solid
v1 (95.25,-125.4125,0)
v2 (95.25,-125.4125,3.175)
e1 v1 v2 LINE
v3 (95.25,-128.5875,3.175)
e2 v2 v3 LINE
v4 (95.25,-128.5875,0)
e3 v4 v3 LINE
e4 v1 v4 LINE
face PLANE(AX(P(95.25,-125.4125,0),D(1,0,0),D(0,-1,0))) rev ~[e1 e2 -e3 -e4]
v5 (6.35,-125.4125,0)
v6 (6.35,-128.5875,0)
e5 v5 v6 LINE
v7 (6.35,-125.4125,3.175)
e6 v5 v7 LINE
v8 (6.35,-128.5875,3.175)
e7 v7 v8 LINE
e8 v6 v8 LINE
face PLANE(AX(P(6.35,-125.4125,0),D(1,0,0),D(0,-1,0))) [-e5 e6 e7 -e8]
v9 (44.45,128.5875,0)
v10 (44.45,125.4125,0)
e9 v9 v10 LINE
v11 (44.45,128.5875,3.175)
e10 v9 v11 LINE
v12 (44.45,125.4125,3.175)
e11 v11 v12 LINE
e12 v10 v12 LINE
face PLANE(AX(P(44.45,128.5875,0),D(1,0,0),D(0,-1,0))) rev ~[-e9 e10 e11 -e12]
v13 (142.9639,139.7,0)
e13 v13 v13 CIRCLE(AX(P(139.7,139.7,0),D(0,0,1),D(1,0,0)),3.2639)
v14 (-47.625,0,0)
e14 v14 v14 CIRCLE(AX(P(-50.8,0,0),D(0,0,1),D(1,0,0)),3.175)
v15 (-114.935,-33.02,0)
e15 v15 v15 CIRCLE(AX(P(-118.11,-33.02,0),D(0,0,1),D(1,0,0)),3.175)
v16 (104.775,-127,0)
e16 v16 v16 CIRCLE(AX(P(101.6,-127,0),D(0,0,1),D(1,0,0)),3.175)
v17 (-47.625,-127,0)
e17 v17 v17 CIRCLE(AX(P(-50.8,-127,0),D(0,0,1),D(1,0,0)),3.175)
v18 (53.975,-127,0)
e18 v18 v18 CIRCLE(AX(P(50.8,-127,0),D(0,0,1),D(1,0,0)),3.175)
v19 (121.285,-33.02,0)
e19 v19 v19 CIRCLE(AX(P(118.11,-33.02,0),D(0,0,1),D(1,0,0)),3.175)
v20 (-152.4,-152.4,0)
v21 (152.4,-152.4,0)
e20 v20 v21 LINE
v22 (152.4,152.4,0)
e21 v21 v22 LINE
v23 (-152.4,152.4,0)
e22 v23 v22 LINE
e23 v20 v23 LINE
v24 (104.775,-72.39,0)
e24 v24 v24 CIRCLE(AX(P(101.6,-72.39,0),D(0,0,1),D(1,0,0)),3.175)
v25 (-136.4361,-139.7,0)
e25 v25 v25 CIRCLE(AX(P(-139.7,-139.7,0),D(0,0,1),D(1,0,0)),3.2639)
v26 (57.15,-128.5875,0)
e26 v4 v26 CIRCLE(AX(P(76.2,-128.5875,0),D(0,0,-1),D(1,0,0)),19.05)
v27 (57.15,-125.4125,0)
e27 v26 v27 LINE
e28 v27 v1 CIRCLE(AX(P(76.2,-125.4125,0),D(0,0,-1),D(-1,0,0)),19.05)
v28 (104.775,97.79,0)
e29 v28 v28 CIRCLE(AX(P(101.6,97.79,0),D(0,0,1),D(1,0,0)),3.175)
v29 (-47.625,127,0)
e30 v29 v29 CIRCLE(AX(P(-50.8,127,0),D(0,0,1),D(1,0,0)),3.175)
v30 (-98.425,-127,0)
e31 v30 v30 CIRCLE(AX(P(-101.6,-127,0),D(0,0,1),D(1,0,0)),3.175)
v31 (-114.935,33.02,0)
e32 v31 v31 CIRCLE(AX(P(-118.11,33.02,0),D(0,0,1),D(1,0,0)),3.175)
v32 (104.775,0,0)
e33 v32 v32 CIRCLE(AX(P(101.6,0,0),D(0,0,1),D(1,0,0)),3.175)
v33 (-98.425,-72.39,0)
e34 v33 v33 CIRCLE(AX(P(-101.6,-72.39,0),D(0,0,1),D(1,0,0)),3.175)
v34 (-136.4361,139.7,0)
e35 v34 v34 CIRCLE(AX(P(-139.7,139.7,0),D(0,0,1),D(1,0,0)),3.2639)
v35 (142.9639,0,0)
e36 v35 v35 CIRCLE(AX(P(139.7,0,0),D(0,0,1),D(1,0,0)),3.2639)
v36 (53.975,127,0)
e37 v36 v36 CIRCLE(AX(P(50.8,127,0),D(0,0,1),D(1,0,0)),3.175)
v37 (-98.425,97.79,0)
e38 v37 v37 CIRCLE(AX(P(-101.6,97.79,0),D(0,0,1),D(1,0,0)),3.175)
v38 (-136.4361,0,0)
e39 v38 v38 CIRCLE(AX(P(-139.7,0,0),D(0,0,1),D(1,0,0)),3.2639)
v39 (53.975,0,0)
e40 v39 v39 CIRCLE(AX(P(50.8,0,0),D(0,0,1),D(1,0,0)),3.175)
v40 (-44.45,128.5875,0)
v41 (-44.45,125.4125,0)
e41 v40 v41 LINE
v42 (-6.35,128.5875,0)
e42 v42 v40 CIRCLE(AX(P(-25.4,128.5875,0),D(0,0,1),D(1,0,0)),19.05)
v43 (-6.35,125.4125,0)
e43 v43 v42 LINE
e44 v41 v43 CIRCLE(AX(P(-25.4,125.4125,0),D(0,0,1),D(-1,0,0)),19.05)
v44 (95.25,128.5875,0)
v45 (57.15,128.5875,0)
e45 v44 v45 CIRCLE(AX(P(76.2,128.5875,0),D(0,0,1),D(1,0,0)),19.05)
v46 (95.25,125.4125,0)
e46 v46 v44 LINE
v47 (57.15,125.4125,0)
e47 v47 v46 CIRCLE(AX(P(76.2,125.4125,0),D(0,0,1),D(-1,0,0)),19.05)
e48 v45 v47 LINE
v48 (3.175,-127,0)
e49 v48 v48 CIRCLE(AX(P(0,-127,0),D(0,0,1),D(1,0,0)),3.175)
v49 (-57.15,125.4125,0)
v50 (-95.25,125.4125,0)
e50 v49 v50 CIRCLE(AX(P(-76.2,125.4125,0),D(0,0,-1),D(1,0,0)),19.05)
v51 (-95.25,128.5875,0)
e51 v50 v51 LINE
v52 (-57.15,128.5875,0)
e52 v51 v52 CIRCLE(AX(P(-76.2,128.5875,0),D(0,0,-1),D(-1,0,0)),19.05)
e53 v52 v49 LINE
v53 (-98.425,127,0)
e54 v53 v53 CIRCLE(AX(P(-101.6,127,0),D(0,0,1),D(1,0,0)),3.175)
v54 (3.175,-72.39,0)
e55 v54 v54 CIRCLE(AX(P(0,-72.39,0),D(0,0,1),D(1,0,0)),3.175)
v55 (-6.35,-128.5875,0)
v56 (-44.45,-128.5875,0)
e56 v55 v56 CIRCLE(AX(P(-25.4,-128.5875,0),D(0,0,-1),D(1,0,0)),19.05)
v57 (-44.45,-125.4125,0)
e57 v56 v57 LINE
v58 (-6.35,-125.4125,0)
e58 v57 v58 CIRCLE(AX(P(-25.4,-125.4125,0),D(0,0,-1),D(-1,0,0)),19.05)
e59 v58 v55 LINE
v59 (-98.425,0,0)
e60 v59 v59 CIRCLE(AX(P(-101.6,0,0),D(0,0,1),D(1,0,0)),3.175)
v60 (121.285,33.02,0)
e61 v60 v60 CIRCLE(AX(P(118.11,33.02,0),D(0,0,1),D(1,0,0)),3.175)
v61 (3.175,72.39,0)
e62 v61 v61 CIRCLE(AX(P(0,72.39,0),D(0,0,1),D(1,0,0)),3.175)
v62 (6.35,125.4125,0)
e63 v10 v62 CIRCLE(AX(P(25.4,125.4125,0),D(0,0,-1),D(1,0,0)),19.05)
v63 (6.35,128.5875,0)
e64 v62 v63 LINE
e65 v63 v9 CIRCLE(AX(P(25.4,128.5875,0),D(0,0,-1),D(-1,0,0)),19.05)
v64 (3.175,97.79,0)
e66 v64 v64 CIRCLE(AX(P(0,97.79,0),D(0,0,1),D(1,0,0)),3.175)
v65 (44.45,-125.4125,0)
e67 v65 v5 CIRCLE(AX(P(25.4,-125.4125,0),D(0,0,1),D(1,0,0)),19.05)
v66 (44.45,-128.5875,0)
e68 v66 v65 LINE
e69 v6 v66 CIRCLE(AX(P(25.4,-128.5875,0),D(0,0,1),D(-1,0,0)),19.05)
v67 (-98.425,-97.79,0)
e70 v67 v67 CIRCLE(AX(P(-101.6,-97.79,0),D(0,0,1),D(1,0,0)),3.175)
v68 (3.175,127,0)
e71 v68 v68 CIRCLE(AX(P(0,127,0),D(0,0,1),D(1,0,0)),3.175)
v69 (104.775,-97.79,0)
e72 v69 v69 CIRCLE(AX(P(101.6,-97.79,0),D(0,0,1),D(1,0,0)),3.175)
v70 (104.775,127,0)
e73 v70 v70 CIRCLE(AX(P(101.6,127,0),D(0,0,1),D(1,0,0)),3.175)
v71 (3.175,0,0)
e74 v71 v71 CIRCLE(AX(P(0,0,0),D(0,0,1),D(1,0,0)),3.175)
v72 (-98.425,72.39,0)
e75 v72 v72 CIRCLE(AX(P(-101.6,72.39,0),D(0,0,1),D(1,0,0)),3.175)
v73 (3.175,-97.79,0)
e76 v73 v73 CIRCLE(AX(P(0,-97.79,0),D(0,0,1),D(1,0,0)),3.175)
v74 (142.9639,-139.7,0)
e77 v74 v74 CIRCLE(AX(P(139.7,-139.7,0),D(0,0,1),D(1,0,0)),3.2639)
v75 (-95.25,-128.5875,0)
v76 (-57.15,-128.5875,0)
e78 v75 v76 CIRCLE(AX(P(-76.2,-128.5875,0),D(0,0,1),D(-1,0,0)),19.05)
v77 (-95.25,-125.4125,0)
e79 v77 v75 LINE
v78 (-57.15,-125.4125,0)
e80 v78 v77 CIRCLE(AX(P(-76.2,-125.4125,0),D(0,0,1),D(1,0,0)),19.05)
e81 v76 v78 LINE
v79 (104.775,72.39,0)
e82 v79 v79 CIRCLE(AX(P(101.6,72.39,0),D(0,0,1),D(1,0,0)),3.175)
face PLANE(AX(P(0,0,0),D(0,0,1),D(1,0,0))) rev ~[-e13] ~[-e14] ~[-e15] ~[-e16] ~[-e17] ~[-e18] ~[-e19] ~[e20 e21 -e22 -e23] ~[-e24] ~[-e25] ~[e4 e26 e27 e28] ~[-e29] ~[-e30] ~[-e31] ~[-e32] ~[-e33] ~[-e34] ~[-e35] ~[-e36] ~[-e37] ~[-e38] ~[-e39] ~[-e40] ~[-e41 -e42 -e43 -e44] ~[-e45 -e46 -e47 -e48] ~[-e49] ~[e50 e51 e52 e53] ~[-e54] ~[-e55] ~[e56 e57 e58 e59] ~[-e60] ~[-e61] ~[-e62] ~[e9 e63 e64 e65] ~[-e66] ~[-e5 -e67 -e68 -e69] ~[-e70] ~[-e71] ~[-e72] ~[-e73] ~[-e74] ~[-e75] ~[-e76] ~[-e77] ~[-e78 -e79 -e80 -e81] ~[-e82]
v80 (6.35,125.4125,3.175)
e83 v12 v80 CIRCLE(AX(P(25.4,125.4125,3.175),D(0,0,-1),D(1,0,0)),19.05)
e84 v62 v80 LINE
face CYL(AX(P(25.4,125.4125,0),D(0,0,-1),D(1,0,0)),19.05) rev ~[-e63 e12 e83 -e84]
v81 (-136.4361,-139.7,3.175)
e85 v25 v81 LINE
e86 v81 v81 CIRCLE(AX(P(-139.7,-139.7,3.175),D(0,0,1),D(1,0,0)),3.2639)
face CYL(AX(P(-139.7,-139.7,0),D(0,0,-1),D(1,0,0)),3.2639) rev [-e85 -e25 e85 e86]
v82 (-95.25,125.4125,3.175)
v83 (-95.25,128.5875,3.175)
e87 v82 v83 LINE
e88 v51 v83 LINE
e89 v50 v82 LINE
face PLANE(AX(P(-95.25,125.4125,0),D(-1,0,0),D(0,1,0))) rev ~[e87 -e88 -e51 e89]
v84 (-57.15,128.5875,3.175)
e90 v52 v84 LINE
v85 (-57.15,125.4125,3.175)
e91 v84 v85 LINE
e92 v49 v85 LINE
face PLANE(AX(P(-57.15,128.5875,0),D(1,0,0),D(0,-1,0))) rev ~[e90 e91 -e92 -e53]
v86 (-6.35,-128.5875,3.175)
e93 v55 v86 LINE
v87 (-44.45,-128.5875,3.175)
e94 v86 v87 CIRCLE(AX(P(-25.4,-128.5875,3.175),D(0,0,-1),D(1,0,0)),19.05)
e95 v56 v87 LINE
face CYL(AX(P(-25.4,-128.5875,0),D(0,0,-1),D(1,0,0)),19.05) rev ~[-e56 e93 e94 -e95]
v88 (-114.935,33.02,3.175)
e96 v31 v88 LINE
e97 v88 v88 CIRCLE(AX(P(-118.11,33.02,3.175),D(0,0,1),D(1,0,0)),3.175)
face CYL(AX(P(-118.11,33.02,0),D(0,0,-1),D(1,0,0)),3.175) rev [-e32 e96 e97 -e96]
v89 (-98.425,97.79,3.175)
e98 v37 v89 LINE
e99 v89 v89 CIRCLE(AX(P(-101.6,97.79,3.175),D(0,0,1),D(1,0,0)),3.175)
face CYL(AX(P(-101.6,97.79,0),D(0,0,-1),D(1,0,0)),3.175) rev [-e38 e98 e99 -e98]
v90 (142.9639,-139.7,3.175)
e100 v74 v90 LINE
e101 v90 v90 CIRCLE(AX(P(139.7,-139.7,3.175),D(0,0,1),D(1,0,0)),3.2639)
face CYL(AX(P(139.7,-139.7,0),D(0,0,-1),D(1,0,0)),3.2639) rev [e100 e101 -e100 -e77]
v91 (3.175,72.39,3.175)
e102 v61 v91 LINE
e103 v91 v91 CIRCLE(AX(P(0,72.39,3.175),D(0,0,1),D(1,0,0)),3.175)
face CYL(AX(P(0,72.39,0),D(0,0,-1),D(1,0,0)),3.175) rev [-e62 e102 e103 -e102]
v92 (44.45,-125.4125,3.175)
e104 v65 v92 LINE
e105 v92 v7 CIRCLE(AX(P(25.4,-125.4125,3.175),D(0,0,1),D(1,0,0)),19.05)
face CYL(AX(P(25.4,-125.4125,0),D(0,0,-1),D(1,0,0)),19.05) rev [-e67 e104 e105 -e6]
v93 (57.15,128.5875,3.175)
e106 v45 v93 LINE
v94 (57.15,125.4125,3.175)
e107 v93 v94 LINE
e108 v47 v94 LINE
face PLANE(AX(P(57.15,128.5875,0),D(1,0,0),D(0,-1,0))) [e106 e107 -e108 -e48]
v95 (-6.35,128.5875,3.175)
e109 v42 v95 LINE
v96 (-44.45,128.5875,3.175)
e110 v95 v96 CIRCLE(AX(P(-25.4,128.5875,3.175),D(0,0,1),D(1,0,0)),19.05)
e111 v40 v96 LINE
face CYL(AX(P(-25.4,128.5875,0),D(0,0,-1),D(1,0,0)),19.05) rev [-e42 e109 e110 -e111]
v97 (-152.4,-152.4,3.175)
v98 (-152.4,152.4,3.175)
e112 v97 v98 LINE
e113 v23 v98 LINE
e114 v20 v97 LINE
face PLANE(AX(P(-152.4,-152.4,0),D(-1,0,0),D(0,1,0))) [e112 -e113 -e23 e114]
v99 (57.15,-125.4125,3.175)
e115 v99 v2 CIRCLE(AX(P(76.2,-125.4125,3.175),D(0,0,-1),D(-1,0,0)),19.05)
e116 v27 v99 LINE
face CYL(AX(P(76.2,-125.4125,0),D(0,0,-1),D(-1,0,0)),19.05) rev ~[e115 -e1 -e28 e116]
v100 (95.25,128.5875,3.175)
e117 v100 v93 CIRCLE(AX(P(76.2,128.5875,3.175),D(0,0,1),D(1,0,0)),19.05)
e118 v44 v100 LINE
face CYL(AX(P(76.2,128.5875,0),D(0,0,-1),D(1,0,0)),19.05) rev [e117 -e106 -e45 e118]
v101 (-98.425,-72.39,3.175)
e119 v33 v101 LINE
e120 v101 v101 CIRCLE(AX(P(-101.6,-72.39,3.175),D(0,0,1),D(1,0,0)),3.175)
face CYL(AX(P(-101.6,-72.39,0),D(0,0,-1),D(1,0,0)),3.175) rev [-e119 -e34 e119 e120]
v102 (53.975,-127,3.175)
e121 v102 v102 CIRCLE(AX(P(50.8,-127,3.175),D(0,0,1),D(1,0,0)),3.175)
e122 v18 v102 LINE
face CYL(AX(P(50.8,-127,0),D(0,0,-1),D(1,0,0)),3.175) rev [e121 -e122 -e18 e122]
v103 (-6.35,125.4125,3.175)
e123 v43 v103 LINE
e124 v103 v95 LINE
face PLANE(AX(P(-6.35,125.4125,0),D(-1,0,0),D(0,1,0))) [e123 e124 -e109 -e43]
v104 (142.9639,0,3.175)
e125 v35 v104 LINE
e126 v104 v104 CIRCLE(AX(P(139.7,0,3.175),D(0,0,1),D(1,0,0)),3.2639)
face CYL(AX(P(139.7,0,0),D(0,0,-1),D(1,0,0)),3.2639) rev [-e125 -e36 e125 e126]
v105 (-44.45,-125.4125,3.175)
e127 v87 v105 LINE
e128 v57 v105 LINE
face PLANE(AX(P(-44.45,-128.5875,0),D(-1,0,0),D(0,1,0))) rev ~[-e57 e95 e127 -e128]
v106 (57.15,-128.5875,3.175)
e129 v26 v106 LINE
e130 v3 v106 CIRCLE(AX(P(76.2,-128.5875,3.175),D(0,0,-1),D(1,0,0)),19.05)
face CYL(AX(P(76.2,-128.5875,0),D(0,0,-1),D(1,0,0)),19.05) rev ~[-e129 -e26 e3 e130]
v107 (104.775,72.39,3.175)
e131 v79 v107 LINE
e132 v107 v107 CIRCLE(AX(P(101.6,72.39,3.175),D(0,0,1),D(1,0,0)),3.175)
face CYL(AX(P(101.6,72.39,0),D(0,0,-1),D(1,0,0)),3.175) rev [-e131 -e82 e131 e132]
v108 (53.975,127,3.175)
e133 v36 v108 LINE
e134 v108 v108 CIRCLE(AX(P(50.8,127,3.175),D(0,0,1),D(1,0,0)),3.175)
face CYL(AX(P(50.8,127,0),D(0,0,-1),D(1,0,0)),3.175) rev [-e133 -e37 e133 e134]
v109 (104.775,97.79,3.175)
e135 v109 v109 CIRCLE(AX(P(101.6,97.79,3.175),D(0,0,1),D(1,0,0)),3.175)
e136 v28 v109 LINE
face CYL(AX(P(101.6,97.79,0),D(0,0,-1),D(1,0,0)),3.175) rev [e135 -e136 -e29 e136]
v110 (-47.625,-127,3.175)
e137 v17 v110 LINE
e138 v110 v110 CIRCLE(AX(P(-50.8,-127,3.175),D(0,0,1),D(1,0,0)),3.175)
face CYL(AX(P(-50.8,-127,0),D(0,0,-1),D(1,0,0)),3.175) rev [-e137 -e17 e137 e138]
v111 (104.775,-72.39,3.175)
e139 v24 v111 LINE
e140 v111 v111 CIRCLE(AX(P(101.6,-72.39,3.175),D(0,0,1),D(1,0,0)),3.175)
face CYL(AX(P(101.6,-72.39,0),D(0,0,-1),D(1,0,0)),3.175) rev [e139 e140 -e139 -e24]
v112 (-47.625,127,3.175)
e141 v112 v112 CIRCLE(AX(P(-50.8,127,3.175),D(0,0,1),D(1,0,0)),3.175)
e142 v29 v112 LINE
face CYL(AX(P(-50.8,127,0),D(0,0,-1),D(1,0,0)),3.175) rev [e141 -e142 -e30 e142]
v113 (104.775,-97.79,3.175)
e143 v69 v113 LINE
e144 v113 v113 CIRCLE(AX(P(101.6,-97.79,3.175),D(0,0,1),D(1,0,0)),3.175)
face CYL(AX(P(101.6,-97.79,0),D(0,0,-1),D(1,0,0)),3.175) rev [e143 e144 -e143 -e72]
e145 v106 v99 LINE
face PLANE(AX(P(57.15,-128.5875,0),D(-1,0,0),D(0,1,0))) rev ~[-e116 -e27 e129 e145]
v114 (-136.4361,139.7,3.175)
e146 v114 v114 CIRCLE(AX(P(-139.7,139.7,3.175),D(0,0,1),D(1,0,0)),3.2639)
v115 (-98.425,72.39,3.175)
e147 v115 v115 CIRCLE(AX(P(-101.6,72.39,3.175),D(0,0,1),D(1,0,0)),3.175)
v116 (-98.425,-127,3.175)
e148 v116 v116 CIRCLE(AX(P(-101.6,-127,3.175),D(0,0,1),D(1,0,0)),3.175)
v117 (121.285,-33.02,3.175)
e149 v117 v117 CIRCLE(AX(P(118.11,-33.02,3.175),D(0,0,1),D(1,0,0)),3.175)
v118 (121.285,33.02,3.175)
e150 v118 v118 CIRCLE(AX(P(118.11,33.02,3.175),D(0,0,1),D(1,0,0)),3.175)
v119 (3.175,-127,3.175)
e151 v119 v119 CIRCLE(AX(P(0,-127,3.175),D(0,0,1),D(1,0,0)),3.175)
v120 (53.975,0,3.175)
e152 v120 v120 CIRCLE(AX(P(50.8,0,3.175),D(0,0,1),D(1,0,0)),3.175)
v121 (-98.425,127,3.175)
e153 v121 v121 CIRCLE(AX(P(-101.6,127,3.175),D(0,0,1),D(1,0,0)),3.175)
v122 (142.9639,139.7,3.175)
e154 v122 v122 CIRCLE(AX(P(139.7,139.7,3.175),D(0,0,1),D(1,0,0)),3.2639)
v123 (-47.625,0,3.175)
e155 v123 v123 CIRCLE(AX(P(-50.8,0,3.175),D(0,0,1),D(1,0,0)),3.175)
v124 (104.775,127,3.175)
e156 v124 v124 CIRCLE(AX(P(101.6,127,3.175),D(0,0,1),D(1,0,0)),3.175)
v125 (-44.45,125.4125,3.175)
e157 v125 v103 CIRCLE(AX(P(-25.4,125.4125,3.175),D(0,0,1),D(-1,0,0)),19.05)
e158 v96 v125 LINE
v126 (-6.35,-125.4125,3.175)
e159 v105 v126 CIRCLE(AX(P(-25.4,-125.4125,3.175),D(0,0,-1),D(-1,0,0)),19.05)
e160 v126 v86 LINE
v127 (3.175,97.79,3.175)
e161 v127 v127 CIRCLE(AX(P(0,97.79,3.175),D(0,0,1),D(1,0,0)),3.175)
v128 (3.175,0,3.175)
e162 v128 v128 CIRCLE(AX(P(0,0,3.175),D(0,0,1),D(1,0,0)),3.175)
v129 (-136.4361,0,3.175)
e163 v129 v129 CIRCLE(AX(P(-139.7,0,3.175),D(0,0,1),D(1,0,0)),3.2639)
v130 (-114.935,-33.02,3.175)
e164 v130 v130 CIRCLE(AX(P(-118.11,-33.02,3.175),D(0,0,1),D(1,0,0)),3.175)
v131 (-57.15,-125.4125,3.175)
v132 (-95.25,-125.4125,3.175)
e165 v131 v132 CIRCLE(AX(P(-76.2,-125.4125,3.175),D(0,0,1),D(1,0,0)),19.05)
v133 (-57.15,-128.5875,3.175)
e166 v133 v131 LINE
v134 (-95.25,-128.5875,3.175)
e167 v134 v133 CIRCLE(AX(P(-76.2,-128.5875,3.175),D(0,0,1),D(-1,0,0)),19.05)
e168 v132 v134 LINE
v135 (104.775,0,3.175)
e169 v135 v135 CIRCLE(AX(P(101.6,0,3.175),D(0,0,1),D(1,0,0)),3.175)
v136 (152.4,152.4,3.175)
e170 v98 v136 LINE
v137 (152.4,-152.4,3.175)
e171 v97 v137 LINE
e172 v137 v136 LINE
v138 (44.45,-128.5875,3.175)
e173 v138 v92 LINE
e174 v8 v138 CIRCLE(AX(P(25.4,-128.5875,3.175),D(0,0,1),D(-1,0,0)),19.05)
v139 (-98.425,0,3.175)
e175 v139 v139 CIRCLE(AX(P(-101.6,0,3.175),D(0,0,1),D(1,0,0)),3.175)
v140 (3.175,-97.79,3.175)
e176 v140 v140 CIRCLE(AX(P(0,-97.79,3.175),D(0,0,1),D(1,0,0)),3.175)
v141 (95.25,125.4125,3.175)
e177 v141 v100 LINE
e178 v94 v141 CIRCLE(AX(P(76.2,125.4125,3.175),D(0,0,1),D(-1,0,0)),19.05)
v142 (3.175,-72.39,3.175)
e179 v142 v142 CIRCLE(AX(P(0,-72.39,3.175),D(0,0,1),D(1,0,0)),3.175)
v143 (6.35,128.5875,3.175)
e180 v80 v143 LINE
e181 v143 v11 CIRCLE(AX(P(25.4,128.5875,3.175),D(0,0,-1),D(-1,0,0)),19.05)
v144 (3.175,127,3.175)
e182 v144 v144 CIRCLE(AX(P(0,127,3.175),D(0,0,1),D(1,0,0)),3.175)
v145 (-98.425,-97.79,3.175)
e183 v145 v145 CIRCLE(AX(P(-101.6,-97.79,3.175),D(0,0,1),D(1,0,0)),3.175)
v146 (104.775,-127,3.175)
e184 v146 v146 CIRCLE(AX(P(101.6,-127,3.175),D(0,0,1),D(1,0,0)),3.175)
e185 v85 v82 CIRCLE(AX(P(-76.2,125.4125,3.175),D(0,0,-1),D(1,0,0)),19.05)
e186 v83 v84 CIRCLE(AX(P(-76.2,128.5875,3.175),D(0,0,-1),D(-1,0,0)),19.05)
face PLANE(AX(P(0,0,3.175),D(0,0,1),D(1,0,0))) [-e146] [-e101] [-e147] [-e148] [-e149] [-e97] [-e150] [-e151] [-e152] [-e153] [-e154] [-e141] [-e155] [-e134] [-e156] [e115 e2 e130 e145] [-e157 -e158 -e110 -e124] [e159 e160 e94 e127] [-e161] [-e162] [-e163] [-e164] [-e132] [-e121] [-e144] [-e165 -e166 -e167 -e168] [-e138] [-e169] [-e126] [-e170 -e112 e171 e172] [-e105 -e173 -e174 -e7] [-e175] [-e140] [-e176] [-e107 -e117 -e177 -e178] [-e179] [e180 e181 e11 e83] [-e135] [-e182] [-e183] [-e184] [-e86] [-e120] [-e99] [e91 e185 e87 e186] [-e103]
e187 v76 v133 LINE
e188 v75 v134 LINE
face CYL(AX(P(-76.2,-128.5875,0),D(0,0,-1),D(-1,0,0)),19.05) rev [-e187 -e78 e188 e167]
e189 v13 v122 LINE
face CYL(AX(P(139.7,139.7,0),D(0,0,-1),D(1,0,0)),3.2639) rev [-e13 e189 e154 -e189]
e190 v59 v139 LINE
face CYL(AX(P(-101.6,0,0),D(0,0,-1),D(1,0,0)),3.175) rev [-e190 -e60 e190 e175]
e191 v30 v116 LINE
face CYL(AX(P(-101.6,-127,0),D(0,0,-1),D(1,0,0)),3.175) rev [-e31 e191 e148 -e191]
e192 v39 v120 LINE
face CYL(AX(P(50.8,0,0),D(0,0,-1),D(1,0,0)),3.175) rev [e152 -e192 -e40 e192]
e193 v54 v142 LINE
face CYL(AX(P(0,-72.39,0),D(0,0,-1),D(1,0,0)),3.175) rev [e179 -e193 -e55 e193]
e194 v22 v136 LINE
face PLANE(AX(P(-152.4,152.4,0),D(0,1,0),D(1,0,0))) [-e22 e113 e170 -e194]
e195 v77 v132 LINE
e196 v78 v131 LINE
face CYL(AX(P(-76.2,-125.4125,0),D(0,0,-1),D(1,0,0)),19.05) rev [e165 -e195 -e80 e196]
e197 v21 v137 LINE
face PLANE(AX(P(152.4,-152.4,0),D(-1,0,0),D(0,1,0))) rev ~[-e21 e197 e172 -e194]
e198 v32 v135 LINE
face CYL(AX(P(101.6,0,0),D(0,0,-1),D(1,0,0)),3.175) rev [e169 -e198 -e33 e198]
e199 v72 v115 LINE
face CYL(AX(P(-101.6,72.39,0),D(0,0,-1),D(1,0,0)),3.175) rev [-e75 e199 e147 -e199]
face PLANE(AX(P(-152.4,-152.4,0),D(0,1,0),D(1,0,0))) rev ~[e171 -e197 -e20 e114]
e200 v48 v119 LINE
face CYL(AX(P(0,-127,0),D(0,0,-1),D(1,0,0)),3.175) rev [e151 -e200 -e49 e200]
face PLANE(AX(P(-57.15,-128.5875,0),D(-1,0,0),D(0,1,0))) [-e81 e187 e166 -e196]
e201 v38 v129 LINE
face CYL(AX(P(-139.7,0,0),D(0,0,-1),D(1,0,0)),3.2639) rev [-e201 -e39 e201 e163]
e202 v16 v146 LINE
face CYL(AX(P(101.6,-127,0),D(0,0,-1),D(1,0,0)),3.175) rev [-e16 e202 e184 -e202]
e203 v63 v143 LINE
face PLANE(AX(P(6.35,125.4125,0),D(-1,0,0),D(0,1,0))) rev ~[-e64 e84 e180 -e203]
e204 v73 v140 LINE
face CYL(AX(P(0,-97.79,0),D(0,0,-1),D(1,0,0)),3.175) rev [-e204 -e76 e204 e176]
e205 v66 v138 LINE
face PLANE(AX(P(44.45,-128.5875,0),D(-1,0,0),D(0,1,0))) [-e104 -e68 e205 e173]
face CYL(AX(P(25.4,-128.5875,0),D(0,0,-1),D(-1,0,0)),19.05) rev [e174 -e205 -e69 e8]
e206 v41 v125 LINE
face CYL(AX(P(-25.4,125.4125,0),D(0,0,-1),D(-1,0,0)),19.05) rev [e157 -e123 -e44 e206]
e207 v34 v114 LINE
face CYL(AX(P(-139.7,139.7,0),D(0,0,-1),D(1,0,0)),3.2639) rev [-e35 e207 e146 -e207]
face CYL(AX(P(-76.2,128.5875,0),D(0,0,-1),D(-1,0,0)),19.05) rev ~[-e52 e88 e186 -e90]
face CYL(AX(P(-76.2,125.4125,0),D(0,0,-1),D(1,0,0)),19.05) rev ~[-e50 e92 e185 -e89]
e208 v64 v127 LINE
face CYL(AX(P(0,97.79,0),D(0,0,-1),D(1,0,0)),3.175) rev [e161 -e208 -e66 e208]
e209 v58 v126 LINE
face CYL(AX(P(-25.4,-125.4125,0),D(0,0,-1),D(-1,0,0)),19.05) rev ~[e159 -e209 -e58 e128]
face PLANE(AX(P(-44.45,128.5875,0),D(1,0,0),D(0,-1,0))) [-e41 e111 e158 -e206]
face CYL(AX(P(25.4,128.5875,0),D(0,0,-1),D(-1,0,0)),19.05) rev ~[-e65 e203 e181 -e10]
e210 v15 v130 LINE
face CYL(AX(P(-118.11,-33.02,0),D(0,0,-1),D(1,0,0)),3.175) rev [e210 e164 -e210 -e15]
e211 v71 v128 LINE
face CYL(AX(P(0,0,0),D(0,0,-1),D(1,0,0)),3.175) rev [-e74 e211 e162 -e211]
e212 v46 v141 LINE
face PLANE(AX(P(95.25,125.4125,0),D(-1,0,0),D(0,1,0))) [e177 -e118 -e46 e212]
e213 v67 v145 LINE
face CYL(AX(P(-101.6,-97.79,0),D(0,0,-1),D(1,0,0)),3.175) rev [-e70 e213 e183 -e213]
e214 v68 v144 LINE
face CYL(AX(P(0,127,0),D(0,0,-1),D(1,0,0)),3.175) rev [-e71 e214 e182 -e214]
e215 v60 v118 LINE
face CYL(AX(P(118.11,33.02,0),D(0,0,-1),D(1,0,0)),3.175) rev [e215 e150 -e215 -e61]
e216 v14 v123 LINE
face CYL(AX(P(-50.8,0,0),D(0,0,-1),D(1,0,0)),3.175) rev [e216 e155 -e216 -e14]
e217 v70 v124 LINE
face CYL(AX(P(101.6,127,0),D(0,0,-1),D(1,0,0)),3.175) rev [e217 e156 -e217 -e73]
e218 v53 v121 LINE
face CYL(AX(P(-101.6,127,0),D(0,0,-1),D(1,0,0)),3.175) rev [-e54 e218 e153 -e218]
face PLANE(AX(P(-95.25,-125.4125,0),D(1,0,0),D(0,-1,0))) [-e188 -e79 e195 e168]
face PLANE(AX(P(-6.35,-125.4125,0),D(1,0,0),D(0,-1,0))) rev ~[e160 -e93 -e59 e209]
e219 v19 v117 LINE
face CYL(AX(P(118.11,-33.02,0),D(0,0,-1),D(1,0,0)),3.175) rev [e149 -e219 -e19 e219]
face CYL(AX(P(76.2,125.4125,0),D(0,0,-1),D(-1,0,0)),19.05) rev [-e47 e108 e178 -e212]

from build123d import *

# Parameters (mm, degrees)
SKETCH1_W           = 304.8
SKETCH1_H           = 304.8
SKETCH1_R           = 3.175
SKETCH1_R_2         = 3.2639
BOSS_EXTRUDE1_DEPTH = 3.175


with BuildPart() as part:
    # Sketch1 → Boss-Extrude1 (new body)
    with BuildSketch(Plane.XY):
        Rectangle(SKETCH1_W, SKETCH1_H)
        with Locations((-101.6, 0)):
            Circle(SKETCH1_R, mode=Mode.SUBTRACT)
        with Locations((-50.8, 0)):
            Circle(SKETCH1_R, mode=Mode.SUBTRACT)
        Circle(SKETCH1_R, mode=Mode.SUBTRACT)
        with Locations((101.6, 0)):
            Circle(SKETCH1_R, mode=Mode.SUBTRACT)
        with Locations((50.8, 0)):
            Circle(SKETCH1_R, mode=Mode.SUBTRACT)
        with Locations((-50.8, 127)):
            Circle(SKETCH1_R, mode=Mode.SUBTRACT)
        with Locations((0, 127)):
            Circle(SKETCH1_R, mode=Mode.SUBTRACT)
        with Locations((50.8, 127)):
            Circle(SKETCH1_R, mode=Mode.SUBTRACT)
        with Locations((-101.6, 72.39)):
            Circle(SKETCH1_R, mode=Mode.SUBTRACT)
        with Locations((0, 72.39)):
            Circle(SKETCH1_R, mode=Mode.SUBTRACT)
        with Locations((101.6, 72.39)):
            Circle(SKETCH1_R, mode=Mode.SUBTRACT)
        with Locations((-101.6, -72.39)):
            Circle(SKETCH1_R, mode=Mode.SUBTRACT)
        with Locations((0, -72.39)):
            Circle(SKETCH1_R, mode=Mode.SUBTRACT)
        with Locations((101.6, -72.39)):
            Circle(SKETCH1_R, mode=Mode.SUBTRACT)
        with Locations((50.8, -127)):
            Circle(SKETCH1_R, mode=Mode.SUBTRACT)
        with Locations((0, -127)):
            Circle(SKETCH1_R, mode=Mode.SUBTRACT)
        with Locations((-50.8, -127)):
            Circle(SKETCH1_R, mode=Mode.SUBTRACT)
        with Locations((-101.6, 97.79)):
            Circle(SKETCH1_R, mode=Mode.SUBTRACT)
        with Locations((0, 97.79)):
            Circle(SKETCH1_R, mode=Mode.SUBTRACT)
        with Locations((101.6, 97.79)):
            Circle(SKETCH1_R, mode=Mode.SUBTRACT)
        with Locations((101.6, 127)):
            Circle(SKETCH1_R, mode=Mode.SUBTRACT)
        with Locations((-101.6, 127)):
            Circle(SKETCH1_R, mode=Mode.SUBTRACT)
        with Locations((-118.11, 33.02)):
            Circle(SKETCH1_R, mode=Mode.SUBTRACT)
        with Locations((-101.6, -127)):
            Circle(SKETCH1_R, mode=Mode.SUBTRACT)
        with Locations((101.6, -127)):
            Circle(SKETCH1_R, mode=Mode.SUBTRACT)
        with Locations((101.6, -97.79)):
            Circle(SKETCH1_R, mode=Mode.SUBTRACT)
        with Locations((0, -97.79)):
            Circle(SKETCH1_R, mode=Mode.SUBTRACT)
        with Locations((-101.6, -97.79)):
            Circle(SKETCH1_R, mode=Mode.SUBTRACT)
        with Locations((-118.11, -33.02)):
            Circle(SKETCH1_R, mode=Mode.SUBTRACT)
        with Locations((-139.7, 139.7)):
            Circle(SKETCH1_R_2, mode=Mode.SUBTRACT)
        with Locations((-139.7, 0)):
            Circle(SKETCH1_R_2, mode=Mode.SUBTRACT)
        with Locations((-139.7, -139.7)):
            Circle(SKETCH1_R_2, mode=Mode.SUBTRACT)
        with Locations((139.7, -139.7)):
            Circle(SKETCH1_R_2, mode=Mode.SUBTRACT)
        with Locations((139.7, 0)):
            Circle(SKETCH1_R_2, mode=Mode.SUBTRACT)
        with Locations((139.7, 139.7)):
            Circle(SKETCH1_R_2, mode=Mode.SUBTRACT)
        with Locations((118.11, 33.02)):
            Circle(SKETCH1_R, mode=Mode.SUBTRACT)
        with Locations((118.11, -33.02)):
            Circle(SKETCH1_R, mode=Mode.SUBTRACT)
        with BuildLine():
            Line((-95.25, 125.4125), (-95.25, 128.5875))
            ThreePointArc((-95.25, 128.5875), (-76.2, 147.6375), (-57.15, 128.5875))
            Line((-57.15, 128.5875), (-57.15, 125.4125))
            ThreePointArc((-57.15, 125.4125), (-76.2, 106.3625), (-95.25, 125.4125))
        make_face(mode=Mode.SUBTRACT)
        with BuildLine():
            Line((-6.35, 125.4125), (-6.35, 128.5875))
            ThreePointArc((-6.35, 128.5875), (-25.4, 147.6375), (-44.45, 128.5875))
            Line((-44.45, 128.5875), (-44.45, 125.4125))
            ThreePointArc((-44.45, 125.4125), (-25.4, 106.3625), (-6.35, 125.4125))
        make_face(mode=Mode.SUBTRACT)
        with BuildLine():
            Line((6.35, 125.4125), (6.35, 128.5875))
            ThreePointArc((6.35, 128.5875), (25.4, 147.6375), (44.45, 128.5875))
            Line((44.45, 128.5875), (44.45, 125.4125))
            ThreePointArc((44.45, 125.4125), (25.4, 106.3625), (6.35, 125.4125))
        make_face(mode=Mode.SUBTRACT)
        with BuildLine():
            Line((95.25, 125.4125), (95.25, 128.5875))
            ThreePointArc((95.25, 128.5875), (76.2, 147.6375), (57.15, 128.5875))
            Line((57.15, 128.5875), (57.15, 125.4125))
            ThreePointArc((57.15, 125.4125), (76.2, 106.3625), (95.25, 125.4125))
        make_face(mode=Mode.SUBTRACT)
        with BuildLine():
            Line((-95.25, -125.4125), (-95.25, -128.5875))
            ThreePointArc((-95.25, -128.5875), (-76.2, -147.6375), (-57.15, -128.5875))
            Line((-57.15, -128.5875), (-57.15, -125.4125))
            ThreePointArc((-57.15, -125.4125), (-76.2, -106.3625), (-95.25, -125.4125))
        make_face(mode=Mode.SUBTRACT)
        with BuildLine():
            Line((-6.35, -125.4125), (-6.35, -128.5875))
            ThreePointArc((-6.35, -128.5875), (-25.4, -147.6375), (-44.45, -128.5875))
            Line((-44.45, -128.5875), (-44.45, -125.4125))
            ThreePointArc((-44.45, -125.4125), (-25.4, -106.3625), (-6.35, -125.4125))
        make_face(mode=Mode.SUBTRACT)
        with BuildLine():
            Line((6.35, -125.4125), (6.35, -128.5875))
            ThreePointArc((6.35, -128.5875), (25.4, -147.6375), (44.45, -128.5875))
            Line((44.45, -128.5875), (44.45, -125.4125))
            ThreePointArc((44.45, -125.4125), (25.4, -106.3625), (6.35, -125.4125))
        make_face(mode=Mode.SUBTRACT)
        with BuildLine():
            Line((95.25, -125.4125), (95.25, -128.5875))
            ThreePointArc((95.25, -128.5875), (76.2, -147.6375), (57.15, -128.5875))
            Line((57.15, -128.5875), (57.15, -125.4125))
            ThreePointArc((57.15, -125.4125), (76.2, -106.3625), (95.25, -125.4125))
        make_face(mode=Mode.SUBTRACT)
    extrude(amount=BOSS_EXTRUDE1_DEPTH)


solid = part.part
